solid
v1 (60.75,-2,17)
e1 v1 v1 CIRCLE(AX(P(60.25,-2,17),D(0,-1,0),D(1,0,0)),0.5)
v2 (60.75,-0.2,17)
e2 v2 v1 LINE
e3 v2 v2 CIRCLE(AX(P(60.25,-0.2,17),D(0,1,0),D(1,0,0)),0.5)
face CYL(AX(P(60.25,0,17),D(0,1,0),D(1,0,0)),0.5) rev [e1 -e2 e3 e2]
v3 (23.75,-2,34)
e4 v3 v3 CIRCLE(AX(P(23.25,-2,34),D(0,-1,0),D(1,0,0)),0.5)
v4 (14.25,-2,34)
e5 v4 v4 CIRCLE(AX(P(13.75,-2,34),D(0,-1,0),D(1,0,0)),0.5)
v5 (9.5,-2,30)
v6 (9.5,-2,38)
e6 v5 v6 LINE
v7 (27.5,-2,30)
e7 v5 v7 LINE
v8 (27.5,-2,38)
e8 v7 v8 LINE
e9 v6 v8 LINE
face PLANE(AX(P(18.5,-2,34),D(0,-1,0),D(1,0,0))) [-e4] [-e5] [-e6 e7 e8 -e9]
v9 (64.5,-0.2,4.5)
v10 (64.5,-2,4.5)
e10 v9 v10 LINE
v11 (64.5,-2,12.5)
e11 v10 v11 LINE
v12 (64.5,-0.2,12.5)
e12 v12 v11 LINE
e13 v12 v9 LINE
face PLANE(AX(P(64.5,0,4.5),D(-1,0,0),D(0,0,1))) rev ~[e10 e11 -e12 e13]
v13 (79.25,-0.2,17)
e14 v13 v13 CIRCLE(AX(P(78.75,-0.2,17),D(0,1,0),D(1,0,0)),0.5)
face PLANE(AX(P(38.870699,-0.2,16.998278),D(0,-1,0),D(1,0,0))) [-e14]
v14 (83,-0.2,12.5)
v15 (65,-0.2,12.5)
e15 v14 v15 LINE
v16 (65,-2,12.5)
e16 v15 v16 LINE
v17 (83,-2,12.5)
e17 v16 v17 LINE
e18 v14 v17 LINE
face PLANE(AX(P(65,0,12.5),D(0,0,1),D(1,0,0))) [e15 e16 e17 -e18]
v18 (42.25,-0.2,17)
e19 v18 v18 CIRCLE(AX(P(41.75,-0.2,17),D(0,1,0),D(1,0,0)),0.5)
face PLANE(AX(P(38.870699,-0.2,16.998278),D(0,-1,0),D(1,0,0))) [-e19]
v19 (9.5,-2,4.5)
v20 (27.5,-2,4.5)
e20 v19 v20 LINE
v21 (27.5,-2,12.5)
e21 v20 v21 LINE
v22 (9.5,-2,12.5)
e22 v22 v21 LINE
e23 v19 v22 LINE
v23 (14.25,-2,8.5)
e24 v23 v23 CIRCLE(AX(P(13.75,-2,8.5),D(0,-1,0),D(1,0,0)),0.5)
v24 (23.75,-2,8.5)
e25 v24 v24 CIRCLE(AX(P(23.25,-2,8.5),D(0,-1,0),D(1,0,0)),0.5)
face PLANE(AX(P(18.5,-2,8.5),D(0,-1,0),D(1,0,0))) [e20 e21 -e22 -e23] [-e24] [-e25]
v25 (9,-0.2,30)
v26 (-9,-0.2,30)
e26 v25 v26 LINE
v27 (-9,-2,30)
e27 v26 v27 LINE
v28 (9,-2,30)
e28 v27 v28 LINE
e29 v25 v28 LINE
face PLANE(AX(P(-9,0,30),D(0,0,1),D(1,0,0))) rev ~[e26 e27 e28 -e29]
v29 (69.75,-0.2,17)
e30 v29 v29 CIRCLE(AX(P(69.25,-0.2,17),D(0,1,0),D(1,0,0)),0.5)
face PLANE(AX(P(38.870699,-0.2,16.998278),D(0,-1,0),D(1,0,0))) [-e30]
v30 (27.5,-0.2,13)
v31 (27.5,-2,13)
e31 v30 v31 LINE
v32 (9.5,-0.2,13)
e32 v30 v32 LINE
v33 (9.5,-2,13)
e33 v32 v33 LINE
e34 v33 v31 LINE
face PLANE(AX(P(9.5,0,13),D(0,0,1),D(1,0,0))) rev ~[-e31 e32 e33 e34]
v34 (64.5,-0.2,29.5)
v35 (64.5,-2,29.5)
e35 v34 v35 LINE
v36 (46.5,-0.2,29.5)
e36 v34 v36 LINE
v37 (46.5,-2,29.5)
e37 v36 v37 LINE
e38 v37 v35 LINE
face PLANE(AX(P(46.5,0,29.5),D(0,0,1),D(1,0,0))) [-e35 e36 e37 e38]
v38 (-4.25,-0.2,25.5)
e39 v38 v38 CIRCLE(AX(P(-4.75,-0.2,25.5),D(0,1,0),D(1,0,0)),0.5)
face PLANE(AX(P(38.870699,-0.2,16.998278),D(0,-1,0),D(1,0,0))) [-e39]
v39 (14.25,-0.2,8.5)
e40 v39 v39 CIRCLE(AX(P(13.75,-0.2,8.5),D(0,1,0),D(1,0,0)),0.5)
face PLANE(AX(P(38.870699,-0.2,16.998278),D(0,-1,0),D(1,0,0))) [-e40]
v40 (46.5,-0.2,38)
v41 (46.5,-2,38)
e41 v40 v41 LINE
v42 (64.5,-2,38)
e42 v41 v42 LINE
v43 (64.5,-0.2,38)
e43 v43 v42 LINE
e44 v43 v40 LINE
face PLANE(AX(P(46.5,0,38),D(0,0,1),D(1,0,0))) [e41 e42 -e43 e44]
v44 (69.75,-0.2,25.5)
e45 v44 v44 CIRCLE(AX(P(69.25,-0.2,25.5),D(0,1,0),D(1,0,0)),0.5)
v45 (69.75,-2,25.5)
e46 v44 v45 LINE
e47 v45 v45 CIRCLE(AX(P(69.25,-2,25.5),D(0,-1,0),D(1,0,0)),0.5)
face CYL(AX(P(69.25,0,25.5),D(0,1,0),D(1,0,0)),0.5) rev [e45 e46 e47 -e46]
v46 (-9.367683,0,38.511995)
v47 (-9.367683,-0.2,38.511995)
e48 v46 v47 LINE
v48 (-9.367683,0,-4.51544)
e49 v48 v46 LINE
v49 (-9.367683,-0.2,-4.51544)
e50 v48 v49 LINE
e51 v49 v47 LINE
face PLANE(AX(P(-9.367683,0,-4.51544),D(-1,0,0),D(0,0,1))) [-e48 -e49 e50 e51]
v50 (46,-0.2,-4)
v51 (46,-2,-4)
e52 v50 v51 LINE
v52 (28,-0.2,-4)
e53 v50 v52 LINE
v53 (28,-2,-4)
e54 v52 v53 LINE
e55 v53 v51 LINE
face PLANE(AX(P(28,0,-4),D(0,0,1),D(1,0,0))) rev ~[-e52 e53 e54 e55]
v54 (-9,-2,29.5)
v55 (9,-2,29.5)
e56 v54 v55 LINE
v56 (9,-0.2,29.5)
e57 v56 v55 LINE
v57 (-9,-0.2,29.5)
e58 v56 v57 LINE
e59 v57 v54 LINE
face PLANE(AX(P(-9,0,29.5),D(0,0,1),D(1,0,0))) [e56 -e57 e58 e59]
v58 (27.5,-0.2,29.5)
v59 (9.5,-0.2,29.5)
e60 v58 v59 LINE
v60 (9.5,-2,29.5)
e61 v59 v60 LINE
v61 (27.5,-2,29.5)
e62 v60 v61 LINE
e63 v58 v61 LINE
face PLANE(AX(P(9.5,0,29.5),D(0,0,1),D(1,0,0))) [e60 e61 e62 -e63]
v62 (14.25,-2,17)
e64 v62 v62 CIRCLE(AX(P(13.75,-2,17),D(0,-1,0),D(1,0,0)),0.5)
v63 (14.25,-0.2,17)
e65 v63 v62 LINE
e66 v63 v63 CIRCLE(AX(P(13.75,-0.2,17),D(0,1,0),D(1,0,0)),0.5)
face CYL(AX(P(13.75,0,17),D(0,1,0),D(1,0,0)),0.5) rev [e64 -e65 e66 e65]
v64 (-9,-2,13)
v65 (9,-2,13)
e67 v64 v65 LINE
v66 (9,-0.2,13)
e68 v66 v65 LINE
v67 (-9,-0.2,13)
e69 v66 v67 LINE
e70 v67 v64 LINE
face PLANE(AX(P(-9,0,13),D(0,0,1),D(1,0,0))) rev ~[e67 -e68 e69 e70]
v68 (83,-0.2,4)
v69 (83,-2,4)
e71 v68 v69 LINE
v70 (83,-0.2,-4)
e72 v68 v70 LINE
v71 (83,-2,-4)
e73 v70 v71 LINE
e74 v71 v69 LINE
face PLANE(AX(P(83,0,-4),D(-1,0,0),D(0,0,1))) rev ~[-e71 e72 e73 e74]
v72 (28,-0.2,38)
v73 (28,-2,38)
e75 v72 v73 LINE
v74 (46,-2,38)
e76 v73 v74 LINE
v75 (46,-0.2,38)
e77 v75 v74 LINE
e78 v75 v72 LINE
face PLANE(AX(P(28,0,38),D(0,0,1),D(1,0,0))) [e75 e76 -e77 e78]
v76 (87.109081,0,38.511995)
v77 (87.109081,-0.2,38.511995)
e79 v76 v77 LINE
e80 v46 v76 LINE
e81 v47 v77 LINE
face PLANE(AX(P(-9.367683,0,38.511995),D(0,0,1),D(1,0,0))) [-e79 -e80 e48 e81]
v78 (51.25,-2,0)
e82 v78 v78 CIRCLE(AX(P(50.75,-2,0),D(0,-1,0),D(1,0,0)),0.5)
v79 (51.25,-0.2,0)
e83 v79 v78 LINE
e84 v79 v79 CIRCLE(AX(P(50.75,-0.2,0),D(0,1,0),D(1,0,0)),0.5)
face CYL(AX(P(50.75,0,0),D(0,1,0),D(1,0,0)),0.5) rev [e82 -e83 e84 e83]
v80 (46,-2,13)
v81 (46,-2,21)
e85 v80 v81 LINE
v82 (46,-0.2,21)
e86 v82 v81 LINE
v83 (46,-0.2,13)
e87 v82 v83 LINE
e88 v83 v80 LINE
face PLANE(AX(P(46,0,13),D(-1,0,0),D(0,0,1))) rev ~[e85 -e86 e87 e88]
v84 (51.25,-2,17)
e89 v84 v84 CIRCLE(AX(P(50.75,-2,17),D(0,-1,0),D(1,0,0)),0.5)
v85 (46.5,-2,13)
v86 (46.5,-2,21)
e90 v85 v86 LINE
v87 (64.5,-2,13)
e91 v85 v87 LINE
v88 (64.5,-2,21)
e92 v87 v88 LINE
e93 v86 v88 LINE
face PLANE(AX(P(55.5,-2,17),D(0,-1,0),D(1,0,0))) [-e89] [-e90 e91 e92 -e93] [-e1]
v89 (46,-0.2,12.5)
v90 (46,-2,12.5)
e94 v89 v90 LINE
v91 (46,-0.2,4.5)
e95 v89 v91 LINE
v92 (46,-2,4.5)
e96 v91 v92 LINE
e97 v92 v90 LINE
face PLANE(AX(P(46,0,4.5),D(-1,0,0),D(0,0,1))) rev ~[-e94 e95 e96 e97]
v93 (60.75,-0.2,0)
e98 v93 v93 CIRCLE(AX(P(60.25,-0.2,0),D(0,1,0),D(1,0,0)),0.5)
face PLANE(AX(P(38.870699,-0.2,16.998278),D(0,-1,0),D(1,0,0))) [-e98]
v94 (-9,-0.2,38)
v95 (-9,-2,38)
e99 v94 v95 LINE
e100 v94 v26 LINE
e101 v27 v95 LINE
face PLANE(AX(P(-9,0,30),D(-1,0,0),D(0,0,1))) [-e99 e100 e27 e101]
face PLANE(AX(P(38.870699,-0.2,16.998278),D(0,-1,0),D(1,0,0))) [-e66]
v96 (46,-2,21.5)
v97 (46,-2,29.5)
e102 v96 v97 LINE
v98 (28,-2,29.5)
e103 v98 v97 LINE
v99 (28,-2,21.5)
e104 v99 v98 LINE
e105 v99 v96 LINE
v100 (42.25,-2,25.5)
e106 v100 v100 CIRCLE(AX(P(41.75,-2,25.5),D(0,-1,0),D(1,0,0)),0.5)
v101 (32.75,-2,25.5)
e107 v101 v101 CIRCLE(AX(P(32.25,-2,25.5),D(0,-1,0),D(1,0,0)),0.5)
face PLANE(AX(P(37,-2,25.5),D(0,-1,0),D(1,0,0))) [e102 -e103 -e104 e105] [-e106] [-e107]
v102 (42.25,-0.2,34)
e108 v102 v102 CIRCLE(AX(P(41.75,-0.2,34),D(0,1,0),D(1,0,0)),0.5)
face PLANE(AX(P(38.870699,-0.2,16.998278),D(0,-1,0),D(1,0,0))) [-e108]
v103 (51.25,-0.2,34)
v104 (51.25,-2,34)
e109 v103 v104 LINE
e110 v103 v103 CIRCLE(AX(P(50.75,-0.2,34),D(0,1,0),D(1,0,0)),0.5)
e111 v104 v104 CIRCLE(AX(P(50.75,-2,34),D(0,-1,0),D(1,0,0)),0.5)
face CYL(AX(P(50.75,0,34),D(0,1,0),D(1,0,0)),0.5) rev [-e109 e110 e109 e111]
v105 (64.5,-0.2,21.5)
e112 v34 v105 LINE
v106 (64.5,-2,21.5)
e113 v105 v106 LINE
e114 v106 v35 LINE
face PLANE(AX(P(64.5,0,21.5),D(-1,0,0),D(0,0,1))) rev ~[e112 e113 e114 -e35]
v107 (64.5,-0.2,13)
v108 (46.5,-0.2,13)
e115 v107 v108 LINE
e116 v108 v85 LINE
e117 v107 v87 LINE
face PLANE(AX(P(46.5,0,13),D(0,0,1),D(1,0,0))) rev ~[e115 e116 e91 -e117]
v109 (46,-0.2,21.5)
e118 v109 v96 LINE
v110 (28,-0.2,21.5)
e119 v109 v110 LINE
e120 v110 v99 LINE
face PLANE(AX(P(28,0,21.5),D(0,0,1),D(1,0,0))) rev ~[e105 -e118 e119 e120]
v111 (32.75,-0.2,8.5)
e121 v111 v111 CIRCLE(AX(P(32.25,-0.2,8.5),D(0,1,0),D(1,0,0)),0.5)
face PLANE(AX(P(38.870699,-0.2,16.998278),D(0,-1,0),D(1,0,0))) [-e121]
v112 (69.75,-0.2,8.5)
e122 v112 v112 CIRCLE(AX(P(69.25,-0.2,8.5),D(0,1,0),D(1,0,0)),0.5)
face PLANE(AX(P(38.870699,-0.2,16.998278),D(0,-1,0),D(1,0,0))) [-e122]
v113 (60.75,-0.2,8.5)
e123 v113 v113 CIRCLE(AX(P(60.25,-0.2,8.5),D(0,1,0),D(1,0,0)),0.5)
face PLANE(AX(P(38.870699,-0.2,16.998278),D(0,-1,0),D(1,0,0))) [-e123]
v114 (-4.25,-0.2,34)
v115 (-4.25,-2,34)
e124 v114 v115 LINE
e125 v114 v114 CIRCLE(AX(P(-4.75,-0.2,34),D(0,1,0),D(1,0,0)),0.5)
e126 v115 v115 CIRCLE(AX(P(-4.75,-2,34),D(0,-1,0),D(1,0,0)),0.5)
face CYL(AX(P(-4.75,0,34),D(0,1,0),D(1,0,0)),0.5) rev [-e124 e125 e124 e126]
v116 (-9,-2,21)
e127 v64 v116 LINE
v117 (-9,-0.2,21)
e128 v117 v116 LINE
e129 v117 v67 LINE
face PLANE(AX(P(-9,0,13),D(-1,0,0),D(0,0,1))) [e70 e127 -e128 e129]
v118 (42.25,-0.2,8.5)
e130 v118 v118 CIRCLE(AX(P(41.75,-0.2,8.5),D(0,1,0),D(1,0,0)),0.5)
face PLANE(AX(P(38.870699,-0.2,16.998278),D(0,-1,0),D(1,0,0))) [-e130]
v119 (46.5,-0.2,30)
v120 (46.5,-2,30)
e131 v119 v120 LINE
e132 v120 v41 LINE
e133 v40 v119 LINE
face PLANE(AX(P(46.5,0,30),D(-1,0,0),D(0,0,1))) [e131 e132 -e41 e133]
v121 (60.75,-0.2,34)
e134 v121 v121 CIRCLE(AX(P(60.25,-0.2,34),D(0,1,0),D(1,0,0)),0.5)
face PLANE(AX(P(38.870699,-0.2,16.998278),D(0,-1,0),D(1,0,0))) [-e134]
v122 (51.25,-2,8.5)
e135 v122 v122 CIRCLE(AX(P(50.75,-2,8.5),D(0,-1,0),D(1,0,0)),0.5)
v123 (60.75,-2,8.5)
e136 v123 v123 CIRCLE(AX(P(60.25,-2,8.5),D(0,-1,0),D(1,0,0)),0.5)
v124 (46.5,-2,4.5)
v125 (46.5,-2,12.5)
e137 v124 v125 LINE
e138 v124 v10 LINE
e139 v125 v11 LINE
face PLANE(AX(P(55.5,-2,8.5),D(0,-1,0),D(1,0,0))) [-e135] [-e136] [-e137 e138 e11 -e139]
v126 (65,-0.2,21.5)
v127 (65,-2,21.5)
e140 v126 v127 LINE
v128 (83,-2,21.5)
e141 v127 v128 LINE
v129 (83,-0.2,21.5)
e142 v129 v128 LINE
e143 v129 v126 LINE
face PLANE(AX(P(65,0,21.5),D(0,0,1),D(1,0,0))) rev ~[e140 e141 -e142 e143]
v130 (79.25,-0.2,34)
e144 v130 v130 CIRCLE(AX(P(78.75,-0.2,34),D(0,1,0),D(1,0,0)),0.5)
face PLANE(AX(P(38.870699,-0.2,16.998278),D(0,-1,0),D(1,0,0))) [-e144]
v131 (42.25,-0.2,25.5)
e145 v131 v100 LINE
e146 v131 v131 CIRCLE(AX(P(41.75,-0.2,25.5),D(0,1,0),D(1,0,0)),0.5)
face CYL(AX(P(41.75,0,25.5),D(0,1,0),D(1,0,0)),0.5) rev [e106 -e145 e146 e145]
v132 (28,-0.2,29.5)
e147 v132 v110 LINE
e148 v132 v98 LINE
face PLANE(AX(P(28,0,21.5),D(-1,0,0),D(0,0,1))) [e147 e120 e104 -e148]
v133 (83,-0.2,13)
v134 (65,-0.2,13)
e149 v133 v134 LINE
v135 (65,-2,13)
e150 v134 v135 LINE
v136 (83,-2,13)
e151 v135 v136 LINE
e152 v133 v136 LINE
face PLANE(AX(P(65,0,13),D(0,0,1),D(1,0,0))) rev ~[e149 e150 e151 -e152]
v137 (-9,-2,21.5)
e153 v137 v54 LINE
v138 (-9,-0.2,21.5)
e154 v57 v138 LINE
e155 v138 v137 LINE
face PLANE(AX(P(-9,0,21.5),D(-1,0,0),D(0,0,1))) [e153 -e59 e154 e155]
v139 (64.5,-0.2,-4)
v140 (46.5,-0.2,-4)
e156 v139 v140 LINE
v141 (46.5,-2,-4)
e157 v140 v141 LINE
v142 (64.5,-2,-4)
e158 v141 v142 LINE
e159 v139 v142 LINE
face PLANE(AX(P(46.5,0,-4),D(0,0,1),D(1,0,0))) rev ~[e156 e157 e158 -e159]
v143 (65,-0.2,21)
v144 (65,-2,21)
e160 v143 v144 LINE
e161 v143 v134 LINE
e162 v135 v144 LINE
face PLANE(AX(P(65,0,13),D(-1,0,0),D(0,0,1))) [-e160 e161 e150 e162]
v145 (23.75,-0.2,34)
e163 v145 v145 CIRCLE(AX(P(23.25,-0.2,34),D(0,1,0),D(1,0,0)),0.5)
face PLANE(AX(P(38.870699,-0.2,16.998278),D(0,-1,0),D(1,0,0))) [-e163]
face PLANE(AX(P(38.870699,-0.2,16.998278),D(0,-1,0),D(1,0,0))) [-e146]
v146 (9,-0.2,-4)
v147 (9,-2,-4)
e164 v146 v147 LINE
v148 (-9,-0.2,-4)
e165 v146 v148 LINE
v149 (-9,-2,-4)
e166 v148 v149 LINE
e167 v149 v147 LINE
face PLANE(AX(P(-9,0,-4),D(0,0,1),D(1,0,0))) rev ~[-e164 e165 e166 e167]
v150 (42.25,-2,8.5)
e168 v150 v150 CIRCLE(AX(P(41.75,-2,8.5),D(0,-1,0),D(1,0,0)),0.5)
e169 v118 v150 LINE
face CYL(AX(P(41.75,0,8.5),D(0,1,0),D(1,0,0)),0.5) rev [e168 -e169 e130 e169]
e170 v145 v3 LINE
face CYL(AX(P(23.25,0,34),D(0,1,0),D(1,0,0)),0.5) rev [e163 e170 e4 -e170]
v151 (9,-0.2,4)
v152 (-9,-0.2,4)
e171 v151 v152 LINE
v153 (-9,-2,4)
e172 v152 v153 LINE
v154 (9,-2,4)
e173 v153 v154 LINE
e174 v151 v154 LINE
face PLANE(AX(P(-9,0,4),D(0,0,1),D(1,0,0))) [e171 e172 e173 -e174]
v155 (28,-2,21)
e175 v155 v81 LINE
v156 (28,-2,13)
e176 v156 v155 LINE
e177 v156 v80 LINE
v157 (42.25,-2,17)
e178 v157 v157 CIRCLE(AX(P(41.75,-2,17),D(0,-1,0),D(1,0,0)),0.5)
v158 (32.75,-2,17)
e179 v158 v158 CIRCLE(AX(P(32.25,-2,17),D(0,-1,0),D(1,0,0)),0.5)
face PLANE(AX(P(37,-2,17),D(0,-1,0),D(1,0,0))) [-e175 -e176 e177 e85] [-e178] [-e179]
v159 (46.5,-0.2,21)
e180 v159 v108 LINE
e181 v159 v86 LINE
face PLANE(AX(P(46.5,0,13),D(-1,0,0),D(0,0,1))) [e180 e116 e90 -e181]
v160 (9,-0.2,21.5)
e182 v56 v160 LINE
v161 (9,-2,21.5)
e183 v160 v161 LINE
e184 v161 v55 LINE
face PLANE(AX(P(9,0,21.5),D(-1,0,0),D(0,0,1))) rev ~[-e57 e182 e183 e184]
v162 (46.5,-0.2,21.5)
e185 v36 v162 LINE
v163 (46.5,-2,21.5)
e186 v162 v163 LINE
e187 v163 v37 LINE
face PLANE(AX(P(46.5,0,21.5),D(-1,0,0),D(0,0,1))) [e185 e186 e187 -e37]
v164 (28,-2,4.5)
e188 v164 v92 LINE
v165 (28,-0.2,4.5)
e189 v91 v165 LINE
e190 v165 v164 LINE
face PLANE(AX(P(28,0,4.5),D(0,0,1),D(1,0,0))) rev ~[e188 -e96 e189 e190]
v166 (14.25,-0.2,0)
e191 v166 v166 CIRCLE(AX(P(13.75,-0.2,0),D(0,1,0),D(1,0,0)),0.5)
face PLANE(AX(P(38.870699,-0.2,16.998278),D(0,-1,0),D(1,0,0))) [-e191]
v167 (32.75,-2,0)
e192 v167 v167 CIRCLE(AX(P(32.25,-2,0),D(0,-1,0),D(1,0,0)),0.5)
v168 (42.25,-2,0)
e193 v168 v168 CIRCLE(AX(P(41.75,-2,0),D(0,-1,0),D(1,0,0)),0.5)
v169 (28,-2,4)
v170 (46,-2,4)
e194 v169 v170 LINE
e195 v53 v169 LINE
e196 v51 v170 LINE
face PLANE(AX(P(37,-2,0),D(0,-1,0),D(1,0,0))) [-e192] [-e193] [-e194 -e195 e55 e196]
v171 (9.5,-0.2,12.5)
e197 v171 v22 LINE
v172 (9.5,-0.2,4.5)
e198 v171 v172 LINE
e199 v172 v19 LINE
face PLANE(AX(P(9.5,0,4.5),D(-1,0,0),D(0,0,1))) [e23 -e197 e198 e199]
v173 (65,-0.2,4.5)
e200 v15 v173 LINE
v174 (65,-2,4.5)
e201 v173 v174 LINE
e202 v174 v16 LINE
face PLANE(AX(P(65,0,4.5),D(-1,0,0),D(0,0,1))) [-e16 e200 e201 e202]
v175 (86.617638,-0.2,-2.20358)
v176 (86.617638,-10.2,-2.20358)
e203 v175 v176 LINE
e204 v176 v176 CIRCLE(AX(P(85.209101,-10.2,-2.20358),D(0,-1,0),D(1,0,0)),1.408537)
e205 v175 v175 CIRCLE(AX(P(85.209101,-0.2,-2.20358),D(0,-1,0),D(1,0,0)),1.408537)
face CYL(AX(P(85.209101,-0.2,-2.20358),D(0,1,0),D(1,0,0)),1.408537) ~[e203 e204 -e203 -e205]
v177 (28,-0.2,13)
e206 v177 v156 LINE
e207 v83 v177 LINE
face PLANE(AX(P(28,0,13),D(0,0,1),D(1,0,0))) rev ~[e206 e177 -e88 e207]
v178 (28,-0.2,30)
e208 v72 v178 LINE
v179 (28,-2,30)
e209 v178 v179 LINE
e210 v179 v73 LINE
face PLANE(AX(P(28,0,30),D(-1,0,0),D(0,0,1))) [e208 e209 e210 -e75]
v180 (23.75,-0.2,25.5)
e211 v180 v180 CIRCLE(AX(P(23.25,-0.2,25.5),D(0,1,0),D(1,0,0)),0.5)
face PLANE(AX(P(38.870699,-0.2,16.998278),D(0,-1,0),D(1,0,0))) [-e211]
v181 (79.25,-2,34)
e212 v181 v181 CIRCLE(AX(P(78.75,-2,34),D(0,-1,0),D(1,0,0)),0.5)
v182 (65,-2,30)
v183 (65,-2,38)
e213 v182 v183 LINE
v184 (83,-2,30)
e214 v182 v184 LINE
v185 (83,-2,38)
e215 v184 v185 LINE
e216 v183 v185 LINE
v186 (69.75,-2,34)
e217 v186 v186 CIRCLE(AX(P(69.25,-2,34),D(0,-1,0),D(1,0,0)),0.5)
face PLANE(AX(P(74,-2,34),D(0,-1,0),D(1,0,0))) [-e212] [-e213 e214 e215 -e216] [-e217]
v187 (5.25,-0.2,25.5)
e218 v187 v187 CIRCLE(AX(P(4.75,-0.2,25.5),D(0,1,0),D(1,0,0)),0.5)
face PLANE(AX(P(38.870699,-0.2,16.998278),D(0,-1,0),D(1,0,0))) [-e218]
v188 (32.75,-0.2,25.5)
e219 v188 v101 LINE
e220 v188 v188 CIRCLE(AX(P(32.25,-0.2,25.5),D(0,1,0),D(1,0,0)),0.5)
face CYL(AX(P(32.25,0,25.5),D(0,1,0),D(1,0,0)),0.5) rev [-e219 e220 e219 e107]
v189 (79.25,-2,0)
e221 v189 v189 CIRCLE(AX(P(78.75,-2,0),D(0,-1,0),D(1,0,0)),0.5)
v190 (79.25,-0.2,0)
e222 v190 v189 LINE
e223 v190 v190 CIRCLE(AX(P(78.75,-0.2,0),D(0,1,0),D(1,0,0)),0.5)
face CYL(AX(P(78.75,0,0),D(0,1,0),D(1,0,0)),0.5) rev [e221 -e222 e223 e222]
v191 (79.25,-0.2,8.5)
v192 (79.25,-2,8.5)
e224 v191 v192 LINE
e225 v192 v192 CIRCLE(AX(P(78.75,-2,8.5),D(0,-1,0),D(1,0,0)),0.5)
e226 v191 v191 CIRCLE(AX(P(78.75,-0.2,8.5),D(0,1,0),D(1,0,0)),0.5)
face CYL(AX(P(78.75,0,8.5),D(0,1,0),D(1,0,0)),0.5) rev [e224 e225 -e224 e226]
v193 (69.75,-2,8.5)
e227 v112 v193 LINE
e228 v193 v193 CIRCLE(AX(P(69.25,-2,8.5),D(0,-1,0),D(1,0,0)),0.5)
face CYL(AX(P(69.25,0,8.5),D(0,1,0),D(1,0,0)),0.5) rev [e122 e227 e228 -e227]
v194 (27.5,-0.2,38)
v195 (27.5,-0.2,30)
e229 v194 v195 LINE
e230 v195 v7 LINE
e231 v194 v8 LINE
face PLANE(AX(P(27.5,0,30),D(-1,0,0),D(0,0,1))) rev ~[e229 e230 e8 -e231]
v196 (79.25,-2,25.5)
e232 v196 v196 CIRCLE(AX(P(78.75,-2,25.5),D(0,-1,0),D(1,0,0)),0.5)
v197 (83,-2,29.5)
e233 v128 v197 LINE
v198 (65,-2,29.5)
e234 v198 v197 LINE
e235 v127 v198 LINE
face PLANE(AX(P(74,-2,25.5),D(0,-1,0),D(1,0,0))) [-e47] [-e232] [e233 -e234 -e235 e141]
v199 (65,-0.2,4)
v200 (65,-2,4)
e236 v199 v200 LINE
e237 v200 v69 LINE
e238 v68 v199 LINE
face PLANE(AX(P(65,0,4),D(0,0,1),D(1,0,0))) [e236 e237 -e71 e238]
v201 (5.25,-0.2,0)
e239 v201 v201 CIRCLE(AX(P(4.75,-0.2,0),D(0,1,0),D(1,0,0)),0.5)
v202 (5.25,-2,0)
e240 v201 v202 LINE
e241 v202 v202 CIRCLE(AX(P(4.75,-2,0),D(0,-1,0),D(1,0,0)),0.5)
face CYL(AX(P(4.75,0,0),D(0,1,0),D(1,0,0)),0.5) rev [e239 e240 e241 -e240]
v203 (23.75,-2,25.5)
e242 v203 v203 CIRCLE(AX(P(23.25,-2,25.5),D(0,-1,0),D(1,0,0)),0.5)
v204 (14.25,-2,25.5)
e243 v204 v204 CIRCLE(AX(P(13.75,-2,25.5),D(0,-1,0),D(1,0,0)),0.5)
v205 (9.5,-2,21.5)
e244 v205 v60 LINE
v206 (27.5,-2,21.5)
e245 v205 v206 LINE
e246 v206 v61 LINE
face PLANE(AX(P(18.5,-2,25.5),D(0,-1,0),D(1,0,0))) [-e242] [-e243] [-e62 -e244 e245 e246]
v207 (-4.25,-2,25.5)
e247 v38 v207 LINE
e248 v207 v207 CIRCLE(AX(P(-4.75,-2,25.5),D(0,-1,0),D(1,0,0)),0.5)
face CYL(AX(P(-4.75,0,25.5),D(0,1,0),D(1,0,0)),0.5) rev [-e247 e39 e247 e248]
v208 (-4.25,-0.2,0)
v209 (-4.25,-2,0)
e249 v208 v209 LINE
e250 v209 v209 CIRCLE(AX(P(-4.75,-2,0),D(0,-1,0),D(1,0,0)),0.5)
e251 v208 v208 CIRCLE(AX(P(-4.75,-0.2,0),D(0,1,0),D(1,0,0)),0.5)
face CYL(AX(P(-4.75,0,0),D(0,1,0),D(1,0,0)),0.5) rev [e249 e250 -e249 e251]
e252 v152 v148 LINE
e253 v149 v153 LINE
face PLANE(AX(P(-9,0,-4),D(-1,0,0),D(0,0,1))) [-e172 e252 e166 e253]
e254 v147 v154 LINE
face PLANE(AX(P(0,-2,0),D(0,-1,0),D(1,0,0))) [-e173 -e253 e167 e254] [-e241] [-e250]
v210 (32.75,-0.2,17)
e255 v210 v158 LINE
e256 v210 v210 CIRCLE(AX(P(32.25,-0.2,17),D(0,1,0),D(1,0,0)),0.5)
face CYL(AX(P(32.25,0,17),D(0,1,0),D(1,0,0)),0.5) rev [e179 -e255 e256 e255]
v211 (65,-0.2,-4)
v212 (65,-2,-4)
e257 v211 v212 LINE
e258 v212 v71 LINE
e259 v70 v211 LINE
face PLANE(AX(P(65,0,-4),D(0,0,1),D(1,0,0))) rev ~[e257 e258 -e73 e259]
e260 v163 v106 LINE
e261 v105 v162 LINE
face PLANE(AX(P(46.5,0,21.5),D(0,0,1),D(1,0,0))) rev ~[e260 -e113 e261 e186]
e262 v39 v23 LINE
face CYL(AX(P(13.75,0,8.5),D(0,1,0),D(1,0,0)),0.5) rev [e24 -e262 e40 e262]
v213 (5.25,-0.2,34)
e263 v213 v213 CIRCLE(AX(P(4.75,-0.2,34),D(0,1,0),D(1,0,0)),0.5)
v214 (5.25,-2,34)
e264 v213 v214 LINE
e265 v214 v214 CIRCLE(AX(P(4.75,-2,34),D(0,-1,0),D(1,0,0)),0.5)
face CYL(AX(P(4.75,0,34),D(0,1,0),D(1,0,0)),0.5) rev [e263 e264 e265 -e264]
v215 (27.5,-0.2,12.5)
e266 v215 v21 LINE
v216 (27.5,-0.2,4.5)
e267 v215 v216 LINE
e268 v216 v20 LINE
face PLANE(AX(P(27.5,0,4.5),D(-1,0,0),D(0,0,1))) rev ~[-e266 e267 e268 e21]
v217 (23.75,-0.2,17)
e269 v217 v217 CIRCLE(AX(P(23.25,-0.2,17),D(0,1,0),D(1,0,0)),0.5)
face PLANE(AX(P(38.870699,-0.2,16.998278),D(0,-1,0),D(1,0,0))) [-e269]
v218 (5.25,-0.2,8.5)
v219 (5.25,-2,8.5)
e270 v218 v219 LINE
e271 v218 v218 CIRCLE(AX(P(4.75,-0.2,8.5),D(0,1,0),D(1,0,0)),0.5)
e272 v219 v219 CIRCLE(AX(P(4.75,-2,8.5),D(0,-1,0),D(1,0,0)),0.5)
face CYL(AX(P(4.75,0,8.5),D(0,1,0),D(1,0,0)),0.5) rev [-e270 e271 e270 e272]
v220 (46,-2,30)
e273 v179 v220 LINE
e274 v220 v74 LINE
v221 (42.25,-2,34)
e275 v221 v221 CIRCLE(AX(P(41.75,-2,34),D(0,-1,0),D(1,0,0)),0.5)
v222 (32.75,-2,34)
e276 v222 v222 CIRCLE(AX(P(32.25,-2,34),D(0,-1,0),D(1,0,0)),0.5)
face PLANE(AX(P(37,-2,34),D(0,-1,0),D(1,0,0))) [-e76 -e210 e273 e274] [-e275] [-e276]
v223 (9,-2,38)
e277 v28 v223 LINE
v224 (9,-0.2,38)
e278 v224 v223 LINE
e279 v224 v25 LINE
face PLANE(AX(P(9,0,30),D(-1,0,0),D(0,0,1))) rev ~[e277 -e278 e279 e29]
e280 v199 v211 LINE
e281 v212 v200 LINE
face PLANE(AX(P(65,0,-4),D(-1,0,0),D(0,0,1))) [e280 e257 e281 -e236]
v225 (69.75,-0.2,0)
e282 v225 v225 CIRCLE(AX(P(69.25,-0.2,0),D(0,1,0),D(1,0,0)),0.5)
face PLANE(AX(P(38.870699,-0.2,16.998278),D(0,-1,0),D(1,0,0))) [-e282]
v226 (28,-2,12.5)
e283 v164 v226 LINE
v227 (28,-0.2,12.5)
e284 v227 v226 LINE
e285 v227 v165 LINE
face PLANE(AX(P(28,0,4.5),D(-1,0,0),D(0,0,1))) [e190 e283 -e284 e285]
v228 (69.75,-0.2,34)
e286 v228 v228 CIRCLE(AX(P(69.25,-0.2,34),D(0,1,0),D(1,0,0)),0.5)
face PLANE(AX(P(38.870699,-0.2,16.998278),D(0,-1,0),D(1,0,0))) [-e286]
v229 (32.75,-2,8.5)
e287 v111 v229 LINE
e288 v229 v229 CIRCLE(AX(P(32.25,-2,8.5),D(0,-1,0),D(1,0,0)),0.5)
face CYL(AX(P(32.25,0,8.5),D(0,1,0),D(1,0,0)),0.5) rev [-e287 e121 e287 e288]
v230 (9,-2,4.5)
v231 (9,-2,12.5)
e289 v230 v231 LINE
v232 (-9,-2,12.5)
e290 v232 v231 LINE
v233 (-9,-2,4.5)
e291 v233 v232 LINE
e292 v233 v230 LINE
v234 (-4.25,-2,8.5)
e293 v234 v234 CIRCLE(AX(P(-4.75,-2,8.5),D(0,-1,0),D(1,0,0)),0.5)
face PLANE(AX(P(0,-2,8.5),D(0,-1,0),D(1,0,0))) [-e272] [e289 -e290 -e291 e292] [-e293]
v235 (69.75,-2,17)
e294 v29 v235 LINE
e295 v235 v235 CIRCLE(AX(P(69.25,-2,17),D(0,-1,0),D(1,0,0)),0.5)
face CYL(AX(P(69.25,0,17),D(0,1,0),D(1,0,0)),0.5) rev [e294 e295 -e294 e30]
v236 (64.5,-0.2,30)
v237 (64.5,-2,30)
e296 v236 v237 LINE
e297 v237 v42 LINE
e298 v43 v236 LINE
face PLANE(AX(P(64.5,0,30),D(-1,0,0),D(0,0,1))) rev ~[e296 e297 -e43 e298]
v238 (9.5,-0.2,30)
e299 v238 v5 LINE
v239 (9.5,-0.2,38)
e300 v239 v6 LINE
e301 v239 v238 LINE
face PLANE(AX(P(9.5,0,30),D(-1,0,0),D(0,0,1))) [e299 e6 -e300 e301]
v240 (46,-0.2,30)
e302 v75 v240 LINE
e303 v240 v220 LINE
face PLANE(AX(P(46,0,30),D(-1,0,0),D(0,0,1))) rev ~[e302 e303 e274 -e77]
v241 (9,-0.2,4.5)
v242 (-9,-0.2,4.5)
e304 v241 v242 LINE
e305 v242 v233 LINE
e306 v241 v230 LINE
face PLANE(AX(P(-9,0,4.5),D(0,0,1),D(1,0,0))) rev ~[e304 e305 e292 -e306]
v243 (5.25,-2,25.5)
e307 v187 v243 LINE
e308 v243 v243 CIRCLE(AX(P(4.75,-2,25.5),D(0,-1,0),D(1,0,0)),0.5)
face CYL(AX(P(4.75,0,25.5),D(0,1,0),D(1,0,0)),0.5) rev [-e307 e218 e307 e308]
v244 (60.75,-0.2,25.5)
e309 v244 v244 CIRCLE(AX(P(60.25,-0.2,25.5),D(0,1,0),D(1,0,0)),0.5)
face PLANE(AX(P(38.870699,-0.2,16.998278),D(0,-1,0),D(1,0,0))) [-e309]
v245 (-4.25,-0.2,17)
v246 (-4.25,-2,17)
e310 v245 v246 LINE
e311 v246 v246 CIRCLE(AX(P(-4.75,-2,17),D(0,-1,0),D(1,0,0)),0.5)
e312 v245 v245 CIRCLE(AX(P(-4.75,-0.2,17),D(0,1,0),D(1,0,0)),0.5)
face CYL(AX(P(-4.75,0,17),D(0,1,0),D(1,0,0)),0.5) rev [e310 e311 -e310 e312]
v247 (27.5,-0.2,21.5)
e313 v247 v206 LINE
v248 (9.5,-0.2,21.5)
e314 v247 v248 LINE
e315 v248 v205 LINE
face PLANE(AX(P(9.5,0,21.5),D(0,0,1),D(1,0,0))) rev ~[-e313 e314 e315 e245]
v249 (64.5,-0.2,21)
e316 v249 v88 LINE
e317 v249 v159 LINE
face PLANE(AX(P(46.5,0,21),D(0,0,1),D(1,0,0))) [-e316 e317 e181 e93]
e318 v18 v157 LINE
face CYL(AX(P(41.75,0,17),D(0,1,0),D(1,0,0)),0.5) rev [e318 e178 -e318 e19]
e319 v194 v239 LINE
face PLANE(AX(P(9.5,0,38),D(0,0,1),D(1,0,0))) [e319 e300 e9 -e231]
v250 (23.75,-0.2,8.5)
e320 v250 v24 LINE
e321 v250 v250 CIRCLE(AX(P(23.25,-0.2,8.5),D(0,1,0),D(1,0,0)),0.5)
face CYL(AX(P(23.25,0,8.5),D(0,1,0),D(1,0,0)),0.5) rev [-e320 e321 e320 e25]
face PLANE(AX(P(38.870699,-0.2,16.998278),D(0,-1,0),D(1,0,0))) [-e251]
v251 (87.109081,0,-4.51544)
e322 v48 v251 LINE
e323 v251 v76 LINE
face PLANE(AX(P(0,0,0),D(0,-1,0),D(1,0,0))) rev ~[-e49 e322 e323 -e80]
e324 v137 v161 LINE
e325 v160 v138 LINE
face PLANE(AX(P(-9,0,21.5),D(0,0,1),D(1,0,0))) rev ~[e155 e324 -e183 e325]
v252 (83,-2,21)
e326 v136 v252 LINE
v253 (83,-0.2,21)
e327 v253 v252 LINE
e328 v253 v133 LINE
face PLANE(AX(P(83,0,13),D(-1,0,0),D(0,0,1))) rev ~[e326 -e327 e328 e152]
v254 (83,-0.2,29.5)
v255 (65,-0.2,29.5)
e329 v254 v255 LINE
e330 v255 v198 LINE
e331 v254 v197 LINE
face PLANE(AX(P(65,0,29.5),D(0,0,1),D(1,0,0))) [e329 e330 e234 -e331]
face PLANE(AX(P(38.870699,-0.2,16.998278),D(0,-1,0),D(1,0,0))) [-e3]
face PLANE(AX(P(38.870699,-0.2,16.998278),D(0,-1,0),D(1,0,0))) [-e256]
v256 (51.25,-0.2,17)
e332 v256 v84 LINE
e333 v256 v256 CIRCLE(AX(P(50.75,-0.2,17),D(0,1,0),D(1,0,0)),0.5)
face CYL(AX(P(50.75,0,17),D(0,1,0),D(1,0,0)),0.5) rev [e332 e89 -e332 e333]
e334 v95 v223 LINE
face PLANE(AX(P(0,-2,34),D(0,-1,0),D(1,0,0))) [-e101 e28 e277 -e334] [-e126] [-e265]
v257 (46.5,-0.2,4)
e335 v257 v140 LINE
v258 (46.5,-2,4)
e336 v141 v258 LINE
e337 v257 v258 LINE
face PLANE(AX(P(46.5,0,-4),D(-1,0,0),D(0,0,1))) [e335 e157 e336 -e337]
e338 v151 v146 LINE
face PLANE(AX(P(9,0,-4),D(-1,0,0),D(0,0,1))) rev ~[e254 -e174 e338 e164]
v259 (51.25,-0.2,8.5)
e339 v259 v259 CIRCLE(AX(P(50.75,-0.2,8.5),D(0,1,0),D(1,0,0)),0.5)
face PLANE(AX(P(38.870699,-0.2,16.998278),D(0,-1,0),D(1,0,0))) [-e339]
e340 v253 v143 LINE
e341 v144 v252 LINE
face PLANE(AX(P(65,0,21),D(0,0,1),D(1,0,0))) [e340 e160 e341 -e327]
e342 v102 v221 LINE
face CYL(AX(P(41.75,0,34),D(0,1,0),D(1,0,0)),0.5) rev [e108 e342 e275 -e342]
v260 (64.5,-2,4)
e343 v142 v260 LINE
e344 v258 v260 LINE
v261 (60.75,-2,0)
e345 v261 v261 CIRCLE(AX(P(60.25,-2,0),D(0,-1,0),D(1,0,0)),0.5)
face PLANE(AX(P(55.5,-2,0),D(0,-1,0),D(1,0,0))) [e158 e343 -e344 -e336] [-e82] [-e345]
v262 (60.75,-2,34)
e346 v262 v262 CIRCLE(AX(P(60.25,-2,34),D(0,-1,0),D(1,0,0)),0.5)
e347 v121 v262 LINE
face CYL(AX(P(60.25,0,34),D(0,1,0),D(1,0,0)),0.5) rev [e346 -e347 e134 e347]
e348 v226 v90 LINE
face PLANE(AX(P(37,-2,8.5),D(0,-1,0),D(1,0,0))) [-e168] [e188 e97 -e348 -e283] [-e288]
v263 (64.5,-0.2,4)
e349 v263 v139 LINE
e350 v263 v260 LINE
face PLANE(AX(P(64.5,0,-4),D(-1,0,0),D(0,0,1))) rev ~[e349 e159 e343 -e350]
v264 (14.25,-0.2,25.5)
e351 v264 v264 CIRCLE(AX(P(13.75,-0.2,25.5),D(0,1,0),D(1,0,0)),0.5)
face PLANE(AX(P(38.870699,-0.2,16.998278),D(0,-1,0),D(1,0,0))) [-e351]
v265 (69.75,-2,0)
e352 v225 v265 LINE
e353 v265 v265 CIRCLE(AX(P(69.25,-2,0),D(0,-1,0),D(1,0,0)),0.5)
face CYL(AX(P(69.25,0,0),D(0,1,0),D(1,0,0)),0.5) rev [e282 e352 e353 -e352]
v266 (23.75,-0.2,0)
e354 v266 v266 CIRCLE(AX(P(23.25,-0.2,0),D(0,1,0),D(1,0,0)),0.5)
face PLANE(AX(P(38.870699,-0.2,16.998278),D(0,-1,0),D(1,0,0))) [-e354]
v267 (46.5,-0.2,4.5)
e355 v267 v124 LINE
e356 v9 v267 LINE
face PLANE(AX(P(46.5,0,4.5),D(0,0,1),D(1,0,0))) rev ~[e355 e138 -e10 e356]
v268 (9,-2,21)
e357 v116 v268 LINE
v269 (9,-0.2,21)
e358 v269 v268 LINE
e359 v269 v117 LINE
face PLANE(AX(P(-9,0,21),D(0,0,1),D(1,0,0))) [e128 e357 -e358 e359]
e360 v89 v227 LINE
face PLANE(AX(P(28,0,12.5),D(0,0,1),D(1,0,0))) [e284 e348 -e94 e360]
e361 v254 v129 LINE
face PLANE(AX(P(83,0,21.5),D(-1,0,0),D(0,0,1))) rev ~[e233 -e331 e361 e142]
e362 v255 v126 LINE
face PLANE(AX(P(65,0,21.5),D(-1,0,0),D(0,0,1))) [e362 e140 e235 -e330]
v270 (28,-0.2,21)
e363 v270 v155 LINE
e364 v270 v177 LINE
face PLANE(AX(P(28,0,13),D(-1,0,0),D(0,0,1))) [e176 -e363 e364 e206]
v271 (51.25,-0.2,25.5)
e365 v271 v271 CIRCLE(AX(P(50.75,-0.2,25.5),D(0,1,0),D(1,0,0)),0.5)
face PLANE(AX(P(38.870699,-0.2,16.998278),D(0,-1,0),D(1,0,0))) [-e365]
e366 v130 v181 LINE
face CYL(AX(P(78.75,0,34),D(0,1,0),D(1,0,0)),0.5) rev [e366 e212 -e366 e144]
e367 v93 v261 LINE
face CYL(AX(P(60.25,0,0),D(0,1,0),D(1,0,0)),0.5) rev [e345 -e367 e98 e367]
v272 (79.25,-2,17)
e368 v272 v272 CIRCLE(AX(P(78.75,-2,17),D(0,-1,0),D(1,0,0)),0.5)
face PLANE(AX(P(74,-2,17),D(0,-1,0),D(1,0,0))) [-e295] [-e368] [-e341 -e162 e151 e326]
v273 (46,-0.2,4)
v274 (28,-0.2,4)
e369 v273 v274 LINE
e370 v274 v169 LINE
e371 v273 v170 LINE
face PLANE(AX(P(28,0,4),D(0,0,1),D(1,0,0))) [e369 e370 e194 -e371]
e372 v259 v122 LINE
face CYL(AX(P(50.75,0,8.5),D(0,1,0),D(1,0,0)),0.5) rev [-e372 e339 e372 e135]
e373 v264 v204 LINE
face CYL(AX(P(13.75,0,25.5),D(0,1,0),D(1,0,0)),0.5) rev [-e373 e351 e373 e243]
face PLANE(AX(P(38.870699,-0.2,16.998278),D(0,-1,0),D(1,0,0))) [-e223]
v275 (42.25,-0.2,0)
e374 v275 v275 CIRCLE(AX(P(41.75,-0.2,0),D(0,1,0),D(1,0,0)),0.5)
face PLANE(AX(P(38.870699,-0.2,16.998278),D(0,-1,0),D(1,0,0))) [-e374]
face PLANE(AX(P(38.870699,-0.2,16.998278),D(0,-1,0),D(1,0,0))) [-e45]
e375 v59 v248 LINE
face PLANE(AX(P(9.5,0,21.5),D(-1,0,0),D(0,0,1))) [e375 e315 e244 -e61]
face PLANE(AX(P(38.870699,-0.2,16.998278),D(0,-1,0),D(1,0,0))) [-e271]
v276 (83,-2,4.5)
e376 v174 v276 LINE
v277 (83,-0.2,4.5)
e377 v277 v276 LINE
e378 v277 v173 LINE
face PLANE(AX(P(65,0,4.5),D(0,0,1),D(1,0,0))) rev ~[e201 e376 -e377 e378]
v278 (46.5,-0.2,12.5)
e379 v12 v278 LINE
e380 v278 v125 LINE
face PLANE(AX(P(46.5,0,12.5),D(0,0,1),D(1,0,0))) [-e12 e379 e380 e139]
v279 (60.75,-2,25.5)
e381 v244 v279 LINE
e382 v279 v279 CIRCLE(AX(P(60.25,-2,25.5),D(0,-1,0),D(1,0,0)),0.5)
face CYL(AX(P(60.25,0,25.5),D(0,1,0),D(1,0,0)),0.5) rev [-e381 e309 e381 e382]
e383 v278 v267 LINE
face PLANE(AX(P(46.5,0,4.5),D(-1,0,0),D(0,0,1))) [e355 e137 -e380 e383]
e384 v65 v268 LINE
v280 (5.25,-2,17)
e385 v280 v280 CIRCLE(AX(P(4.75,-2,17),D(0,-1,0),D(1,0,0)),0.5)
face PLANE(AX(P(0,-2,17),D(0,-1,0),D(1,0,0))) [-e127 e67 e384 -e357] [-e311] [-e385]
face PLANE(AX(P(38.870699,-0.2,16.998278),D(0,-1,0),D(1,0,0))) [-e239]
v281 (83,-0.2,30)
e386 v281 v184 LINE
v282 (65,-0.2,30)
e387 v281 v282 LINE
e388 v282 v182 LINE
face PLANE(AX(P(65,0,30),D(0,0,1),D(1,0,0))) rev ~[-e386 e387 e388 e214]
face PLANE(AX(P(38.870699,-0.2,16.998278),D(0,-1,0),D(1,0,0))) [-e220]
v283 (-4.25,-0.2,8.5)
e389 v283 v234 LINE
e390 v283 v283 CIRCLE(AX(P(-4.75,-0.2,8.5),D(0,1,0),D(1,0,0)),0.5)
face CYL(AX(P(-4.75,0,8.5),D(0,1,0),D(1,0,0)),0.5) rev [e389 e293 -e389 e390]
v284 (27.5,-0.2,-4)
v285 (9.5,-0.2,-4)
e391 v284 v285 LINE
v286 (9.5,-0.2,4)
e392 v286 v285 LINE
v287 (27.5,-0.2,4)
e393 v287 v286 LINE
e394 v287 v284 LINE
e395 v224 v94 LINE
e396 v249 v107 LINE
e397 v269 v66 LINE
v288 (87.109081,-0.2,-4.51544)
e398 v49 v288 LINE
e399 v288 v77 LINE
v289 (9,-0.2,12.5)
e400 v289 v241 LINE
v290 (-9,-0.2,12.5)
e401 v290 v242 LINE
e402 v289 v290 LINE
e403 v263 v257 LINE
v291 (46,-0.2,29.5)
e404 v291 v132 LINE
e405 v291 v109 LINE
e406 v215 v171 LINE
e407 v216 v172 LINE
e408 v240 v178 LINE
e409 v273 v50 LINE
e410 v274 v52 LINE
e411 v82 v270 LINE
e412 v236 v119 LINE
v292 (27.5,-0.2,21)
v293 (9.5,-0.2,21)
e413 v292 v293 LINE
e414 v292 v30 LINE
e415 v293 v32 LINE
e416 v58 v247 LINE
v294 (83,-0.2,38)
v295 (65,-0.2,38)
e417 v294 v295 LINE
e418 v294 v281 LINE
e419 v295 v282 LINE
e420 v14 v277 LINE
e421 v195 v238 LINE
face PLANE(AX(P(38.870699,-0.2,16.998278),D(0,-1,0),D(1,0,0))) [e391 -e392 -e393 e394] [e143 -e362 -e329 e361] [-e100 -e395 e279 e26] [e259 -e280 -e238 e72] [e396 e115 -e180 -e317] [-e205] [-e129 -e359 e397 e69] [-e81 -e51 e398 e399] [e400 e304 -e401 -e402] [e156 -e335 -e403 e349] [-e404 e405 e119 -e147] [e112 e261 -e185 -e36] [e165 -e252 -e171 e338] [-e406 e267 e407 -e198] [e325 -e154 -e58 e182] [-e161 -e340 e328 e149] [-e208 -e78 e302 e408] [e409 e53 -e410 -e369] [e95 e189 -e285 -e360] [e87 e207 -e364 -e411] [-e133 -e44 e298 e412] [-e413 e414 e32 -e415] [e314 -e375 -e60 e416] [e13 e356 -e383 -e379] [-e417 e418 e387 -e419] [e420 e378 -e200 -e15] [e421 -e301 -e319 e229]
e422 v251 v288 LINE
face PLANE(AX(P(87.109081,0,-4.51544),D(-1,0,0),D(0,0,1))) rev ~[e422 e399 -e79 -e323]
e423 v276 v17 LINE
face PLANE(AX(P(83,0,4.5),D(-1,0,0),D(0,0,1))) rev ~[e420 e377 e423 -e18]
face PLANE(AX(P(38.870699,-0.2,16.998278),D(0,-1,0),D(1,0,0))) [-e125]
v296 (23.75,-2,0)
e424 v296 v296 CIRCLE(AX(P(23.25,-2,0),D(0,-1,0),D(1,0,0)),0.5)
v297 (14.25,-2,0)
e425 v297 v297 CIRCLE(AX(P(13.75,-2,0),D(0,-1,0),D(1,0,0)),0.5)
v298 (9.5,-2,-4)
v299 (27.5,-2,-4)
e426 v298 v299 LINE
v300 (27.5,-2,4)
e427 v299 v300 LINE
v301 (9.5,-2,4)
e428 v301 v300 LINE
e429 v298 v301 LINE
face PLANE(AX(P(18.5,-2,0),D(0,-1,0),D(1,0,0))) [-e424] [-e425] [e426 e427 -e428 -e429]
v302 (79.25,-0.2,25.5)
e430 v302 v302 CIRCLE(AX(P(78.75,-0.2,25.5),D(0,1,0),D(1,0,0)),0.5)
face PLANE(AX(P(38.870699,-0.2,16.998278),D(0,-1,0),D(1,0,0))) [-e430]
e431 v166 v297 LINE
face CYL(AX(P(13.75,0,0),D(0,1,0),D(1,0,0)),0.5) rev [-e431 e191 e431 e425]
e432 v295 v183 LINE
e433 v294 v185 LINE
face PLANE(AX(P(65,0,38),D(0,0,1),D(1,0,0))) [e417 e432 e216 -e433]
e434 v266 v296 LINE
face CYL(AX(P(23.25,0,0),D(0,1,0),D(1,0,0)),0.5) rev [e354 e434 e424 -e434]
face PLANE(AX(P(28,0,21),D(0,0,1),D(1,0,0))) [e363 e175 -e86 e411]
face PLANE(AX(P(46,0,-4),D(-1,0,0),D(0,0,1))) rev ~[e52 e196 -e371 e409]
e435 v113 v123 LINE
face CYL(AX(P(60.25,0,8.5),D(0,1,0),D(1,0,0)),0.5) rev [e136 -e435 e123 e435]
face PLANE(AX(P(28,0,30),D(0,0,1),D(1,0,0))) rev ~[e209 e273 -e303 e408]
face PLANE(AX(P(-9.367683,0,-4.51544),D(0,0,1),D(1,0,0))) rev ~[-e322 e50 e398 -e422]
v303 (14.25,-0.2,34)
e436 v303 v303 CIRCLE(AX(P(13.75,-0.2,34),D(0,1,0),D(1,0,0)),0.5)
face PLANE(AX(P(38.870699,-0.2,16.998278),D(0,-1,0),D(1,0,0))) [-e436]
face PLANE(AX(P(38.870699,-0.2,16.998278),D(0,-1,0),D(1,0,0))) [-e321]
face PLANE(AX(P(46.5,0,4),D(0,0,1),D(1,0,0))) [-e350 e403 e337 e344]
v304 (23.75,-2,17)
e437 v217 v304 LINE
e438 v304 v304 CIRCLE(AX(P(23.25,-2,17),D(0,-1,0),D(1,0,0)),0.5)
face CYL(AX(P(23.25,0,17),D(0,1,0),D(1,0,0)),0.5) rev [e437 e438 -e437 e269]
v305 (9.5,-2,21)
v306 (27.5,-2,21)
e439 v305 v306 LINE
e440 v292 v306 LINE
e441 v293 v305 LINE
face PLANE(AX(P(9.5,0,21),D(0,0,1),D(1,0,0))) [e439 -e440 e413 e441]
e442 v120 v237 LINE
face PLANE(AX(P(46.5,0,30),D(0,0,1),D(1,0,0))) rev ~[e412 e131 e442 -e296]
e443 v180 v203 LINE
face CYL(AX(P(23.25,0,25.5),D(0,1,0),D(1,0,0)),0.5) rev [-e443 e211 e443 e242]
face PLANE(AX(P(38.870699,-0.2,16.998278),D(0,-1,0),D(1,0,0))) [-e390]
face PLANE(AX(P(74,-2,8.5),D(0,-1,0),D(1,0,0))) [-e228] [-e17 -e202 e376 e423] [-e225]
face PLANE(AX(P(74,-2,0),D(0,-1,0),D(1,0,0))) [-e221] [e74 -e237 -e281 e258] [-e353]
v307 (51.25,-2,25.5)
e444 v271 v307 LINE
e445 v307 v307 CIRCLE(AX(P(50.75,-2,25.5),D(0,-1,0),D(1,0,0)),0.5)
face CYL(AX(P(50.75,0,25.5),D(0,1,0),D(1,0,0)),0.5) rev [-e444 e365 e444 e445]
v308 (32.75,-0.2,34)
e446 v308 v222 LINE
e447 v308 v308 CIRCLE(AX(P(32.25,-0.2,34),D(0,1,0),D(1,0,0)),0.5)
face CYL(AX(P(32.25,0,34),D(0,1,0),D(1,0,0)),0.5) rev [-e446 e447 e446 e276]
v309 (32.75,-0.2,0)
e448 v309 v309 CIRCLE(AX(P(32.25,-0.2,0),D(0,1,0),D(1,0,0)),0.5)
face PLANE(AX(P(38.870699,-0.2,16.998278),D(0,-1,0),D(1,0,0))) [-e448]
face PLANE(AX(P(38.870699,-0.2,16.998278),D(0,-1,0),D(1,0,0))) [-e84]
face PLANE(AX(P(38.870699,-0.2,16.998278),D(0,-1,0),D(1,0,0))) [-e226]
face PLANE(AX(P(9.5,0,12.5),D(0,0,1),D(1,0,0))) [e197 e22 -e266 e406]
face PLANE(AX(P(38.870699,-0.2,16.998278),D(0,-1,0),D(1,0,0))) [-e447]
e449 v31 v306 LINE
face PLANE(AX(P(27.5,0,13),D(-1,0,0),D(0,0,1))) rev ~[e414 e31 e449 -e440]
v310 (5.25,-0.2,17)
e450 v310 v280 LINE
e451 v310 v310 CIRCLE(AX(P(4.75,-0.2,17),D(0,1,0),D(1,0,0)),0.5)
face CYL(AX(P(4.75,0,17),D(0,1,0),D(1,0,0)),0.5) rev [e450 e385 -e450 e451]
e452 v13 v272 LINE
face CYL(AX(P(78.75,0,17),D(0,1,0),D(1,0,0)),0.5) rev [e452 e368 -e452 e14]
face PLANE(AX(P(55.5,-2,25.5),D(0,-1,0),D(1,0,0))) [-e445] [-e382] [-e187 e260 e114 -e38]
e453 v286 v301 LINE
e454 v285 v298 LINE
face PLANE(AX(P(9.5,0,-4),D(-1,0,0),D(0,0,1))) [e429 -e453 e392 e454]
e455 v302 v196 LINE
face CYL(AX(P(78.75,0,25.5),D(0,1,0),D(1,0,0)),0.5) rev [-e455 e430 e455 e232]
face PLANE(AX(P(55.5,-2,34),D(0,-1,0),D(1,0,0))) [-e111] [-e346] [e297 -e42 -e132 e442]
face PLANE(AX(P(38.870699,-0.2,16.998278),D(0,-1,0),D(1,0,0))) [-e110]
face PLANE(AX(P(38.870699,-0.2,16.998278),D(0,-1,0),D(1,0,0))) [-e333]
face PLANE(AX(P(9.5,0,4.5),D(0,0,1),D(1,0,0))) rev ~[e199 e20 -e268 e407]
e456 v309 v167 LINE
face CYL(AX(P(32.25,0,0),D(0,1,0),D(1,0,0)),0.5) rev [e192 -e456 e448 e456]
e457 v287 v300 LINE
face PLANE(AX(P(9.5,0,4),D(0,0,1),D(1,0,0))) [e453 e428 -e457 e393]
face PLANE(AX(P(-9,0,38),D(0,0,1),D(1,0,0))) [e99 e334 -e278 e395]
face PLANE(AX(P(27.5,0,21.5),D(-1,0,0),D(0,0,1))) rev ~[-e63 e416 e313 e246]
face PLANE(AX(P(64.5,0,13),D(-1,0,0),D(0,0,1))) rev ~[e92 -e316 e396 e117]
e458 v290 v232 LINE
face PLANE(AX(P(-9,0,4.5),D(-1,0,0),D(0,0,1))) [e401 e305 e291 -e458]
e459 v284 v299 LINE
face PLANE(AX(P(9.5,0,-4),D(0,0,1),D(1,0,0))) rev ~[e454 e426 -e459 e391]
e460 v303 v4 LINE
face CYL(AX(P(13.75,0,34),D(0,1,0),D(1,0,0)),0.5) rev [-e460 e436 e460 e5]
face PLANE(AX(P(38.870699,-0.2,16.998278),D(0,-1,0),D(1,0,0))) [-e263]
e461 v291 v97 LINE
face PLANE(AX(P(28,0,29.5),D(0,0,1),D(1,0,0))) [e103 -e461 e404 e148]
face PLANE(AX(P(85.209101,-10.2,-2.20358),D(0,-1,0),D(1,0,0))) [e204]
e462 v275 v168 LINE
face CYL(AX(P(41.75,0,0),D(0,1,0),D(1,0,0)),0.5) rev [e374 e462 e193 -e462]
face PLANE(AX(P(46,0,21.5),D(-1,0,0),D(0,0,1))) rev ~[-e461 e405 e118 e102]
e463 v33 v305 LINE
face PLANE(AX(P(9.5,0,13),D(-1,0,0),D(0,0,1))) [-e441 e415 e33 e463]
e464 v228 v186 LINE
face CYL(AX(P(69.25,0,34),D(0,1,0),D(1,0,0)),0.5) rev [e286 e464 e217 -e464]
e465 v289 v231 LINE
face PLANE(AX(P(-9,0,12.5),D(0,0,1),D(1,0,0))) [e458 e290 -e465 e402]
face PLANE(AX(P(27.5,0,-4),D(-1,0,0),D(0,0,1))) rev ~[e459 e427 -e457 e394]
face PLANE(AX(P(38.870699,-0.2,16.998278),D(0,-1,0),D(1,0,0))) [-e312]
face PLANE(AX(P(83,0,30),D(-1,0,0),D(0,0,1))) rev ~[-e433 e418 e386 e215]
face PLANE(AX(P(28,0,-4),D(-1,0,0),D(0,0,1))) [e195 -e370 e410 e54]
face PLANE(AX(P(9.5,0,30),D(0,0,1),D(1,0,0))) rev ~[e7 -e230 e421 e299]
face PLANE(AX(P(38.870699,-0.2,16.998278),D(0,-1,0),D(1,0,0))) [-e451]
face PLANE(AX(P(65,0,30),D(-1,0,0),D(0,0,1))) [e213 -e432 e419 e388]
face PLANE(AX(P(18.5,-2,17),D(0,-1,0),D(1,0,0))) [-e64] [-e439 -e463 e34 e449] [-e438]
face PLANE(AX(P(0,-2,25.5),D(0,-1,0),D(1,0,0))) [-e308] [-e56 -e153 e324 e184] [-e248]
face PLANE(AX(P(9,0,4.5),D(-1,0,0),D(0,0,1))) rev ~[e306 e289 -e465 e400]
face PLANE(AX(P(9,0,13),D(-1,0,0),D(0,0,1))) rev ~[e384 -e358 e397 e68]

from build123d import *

# Parameters (mm, degrees)
F1_W     = 96.476763
F1_H     = 43.027435
F2_DEPTH = 0.2
F3_R     = 1.408537
F4_DEPTH = 10
F0_W     = 18
F0_H     = 8
F0_R     = 0.5
F5_DEPTH = 2


with BuildPart() as f2:
    # F1 (on Front) → F2 (new body)
    with BuildSketch(Plane.XZ):
        with Locations((38.870699, 16.998278)):
            Rectangle(F1_W, F1_H)
    extrude(amount=F2_DEPTH)

    # F3 (on face) → F4 (join)
    with BuildSketch(Plane.XZ.offset(0.2)):
        with Locations((85.209101, -2.20358)):
            Circle(F3_R)
    extrude(amount=F4_DEPTH)

    # F0 (on Front) → F5 (join)
    with BuildSketch(Plane.XZ):
        Rectangle(F0_W, F0_H)
        with Locations((-4.75, 0)):
            Circle(F0_R, mode=Mode.SUBTRACT)
        with Locations((4.75, 0)):
            Circle(F0_R, mode=Mode.SUBTRACT)
        with Locations((0, 8.5)):
            Rectangle(F0_W, F0_H)
        with Locations((-4.75, 8.5)):
            Circle(F0_R, mode=Mode.SUBTRACT)
        with Locations((4.75, 8.5)):
            Circle(F0_R, mode=Mode.SUBTRACT)
        with Locations((0, 17)):
            Rectangle(F0_W, F0_H)
        with Locations((-4.75, 17)):
            Circle(F0_R, mode=Mode.SUBTRACT)
        with Locations((4.75, 17)):
            Circle(F0_R, mode=Mode.SUBTRACT)
        with Locations((0, 25.5)):
            Rectangle(F0_W, F0_H)
        with Locations((-4.75, 25.5)):
            Circle(F0_R, mode=Mode.SUBTRACT)
        with Locations((4.75, 25.5)):
            Circle(F0_R, mode=Mode.SUBTRACT)
        with Locations((0, 34)):
            Rectangle(F0_W, F0_H)
        with Locations((-4.75, 34)):
            Circle(F0_R, mode=Mode.SUBTRACT)
        with Locations((4.75, 34)):
            Circle(F0_R, mode=Mode.SUBTRACT)
        with Locations((18.5, 0)):
            Rectangle(F0_W, F0_H)
        with Locations((13.75, 0)):
            Circle(F0_R, mode=Mode.SUBTRACT)
        with Locations((23.25, 0)):
            Circle(F0_R, mode=Mode.SUBTRACT)
        with Locations((18.5, 8.5)):
            Rectangle(F0_W, F0_H)
        with Locations((13.75, 8.5)):
            Circle(F0_R, mode=Mode.SUBTRACT)
        with Locations((23.25, 8.5)):
            Circle(F0_R, mode=Mode.SUBTRACT)
        with Locations((18.5, 17)):
            Rectangle(F0_W, F0_H)
        with Locations((13.75, 17)):
            Circle(F0_R, mode=Mode.SUBTRACT)
        with Locations((23.25, 17)):
            Circle(F0_R, mode=Mode.SUBTRACT)
        with Locations((18.5, 25.5)):
            Rectangle(F0_W, F0_H)
        with Locations((13.75, 25.5)):
            Circle(F0_R, mode=Mode.SUBTRACT)
        with Locations((23.25, 25.5)):
            Circle(F0_R, mode=Mode.SUBTRACT)
        with Locations((18.5, 34)):
            Rectangle(F0_W, F0_H)
        with Locations((13.75, 34)):
            Circle(F0_R, mode=Mode.SUBTRACT)
        with Locations((23.25, 34)):
            Circle(F0_R, mode=Mode.SUBTRACT)
        with Locations((37, 0)):
            Rectangle(F0_W, F0_H)
        with Locations((32.25, 0)):
            Circle(F0_R, mode=Mode.SUBTRACT)
        with Locations((41.75, 0)):
            Circle(F0_R, mode=Mode.SUBTRACT)
        with Locations((37, 8.5)):
            Rectangle(F0_W, F0_H)
        with Locations((32.25, 8.5)):
            Circle(F0_R, mode=Mode.SUBTRACT)
        with Locations((41.75, 8.5)):
            Circle(F0_R, mode=Mode.SUBTRACT)
        with Locations((37, 17)):
            Rectangle(F0_W, F0_H)
        with Locations((32.25, 17)):
            Circle(F0_R, mode=Mode.SUBTRACT)
        with Locations((41.75, 17)):
            Circle(F0_R, mode=Mode.SUBTRACT)
        with Locations((37, 25.5)):
            Rectangle(F0_W, F0_H)
        with Locations((32.25, 25.5)):
            Circle(F0_R, mode=Mode.SUBTRACT)
        with Locations((41.75, 25.5)):
            Circle(F0_R, mode=Mode.SUBTRACT)
        with Locations((37, 34)):
            Rectangle(F0_W, F0_H)
        with Locations((32.25, 34)):
            Circle(F0_R, mode=Mode.SUBTRACT)
        with Locations((41.75, 34)):
            Circle(F0_R, mode=Mode.SUBTRACT)
        with Locations((55.5, 0)):
            Rectangle(F0_W, F0_H)
        with Locations((50.75, 0)):
            Circle(F0_R, mode=Mode.SUBTRACT)
        with Locations((60.25, 0)):
            Circle(F0_R, mode=Mode.SUBTRACT)
        with Locations((55.5, 8.5)):
            Rectangle(F0_W, F0_H)
        with Locations((50.75, 8.5)):
            Circle(F0_R, mode=Mode.SUBTRACT)
        with Locations((60.25, 8.5)):
            Circle(F0_R, mode=Mode.SUBTRACT)
        with Locations((55.5, 17)):
            Rectangle(F0_W, F0_H)
        with Locations((50.75, 17)):
            Circle(F0_R, mode=Mode.SUBTRACT)
        with Locations((60.25, 17)):
            Circle(F0_R, mode=Mode.SUBTRACT)
        with Locations((55.5, 25.5)):
            Rectangle(F0_W, F0_H)
        with Locations((50.75, 25.5)):
            Circle(F0_R, mode=Mode.SUBTRACT)
        with Locations((60.25, 25.5)):
            Circle(F0_R, mode=Mode.SUBTRACT)
        with Locations((55.5, 34)):
            Rectangle(F0_W, F0_H)
        with Locations((50.75, 34)):
            Circle(F0_R, mode=Mode.SUBTRACT)
        with Locations((60.25, 34)):
            Circle(F0_R, mode=Mode.SUBTRACT)
        with Locations((74, 0)):
            Rectangle(F0_W, F0_H)
        with Locations((69.25, 0)):
            Circle(F0_R, mode=Mode.SUBTRACT)
        with Locations((78.75, 0)):
            Circle(F0_R, mode=Mode.SUBTRACT)
        with Locations((74, 8.5)):
            Rectangle(F0_W, F0_H)
        with Locations((69.25, 8.5)):
            Circle(F0_R, mode=Mode.SUBTRACT)
        with Locations((78.75, 8.5)):
            Circle(F0_R, mode=Mode.SUBTRACT)
        with Locations((74, 17)):
            Rectangle(F0_W, F0_H)
        with Locations((69.25, 17)):
            Circle(F0_R, mode=Mode.SUBTRACT)
        with Locations((78.75, 17)):
            Circle(F0_R, mode=Mode.SUBTRACT)
        with Locations((74, 25.5)):
            Rectangle(F0_W, F0_H)
        with Locations((69.25, 25.5)):
            Circle(F0_R, mode=Mode.SUBTRACT)
        with Locations((78.75, 25.5)):
            Circle(F0_R, mode=Mode.SUBTRACT)
        with Locations((74, 34)):
            Rectangle(F0_W, F0_H)
        with Locations((69.25, 34)):
            Circle(F0_R, mode=Mode.SUBTRACT)
        with Locations((78.75, 34)):
            Circle(F0_R, mode=Mode.SUBTRACT)
    extrude(amount=F5_DEPTH)


solid = f2.part
